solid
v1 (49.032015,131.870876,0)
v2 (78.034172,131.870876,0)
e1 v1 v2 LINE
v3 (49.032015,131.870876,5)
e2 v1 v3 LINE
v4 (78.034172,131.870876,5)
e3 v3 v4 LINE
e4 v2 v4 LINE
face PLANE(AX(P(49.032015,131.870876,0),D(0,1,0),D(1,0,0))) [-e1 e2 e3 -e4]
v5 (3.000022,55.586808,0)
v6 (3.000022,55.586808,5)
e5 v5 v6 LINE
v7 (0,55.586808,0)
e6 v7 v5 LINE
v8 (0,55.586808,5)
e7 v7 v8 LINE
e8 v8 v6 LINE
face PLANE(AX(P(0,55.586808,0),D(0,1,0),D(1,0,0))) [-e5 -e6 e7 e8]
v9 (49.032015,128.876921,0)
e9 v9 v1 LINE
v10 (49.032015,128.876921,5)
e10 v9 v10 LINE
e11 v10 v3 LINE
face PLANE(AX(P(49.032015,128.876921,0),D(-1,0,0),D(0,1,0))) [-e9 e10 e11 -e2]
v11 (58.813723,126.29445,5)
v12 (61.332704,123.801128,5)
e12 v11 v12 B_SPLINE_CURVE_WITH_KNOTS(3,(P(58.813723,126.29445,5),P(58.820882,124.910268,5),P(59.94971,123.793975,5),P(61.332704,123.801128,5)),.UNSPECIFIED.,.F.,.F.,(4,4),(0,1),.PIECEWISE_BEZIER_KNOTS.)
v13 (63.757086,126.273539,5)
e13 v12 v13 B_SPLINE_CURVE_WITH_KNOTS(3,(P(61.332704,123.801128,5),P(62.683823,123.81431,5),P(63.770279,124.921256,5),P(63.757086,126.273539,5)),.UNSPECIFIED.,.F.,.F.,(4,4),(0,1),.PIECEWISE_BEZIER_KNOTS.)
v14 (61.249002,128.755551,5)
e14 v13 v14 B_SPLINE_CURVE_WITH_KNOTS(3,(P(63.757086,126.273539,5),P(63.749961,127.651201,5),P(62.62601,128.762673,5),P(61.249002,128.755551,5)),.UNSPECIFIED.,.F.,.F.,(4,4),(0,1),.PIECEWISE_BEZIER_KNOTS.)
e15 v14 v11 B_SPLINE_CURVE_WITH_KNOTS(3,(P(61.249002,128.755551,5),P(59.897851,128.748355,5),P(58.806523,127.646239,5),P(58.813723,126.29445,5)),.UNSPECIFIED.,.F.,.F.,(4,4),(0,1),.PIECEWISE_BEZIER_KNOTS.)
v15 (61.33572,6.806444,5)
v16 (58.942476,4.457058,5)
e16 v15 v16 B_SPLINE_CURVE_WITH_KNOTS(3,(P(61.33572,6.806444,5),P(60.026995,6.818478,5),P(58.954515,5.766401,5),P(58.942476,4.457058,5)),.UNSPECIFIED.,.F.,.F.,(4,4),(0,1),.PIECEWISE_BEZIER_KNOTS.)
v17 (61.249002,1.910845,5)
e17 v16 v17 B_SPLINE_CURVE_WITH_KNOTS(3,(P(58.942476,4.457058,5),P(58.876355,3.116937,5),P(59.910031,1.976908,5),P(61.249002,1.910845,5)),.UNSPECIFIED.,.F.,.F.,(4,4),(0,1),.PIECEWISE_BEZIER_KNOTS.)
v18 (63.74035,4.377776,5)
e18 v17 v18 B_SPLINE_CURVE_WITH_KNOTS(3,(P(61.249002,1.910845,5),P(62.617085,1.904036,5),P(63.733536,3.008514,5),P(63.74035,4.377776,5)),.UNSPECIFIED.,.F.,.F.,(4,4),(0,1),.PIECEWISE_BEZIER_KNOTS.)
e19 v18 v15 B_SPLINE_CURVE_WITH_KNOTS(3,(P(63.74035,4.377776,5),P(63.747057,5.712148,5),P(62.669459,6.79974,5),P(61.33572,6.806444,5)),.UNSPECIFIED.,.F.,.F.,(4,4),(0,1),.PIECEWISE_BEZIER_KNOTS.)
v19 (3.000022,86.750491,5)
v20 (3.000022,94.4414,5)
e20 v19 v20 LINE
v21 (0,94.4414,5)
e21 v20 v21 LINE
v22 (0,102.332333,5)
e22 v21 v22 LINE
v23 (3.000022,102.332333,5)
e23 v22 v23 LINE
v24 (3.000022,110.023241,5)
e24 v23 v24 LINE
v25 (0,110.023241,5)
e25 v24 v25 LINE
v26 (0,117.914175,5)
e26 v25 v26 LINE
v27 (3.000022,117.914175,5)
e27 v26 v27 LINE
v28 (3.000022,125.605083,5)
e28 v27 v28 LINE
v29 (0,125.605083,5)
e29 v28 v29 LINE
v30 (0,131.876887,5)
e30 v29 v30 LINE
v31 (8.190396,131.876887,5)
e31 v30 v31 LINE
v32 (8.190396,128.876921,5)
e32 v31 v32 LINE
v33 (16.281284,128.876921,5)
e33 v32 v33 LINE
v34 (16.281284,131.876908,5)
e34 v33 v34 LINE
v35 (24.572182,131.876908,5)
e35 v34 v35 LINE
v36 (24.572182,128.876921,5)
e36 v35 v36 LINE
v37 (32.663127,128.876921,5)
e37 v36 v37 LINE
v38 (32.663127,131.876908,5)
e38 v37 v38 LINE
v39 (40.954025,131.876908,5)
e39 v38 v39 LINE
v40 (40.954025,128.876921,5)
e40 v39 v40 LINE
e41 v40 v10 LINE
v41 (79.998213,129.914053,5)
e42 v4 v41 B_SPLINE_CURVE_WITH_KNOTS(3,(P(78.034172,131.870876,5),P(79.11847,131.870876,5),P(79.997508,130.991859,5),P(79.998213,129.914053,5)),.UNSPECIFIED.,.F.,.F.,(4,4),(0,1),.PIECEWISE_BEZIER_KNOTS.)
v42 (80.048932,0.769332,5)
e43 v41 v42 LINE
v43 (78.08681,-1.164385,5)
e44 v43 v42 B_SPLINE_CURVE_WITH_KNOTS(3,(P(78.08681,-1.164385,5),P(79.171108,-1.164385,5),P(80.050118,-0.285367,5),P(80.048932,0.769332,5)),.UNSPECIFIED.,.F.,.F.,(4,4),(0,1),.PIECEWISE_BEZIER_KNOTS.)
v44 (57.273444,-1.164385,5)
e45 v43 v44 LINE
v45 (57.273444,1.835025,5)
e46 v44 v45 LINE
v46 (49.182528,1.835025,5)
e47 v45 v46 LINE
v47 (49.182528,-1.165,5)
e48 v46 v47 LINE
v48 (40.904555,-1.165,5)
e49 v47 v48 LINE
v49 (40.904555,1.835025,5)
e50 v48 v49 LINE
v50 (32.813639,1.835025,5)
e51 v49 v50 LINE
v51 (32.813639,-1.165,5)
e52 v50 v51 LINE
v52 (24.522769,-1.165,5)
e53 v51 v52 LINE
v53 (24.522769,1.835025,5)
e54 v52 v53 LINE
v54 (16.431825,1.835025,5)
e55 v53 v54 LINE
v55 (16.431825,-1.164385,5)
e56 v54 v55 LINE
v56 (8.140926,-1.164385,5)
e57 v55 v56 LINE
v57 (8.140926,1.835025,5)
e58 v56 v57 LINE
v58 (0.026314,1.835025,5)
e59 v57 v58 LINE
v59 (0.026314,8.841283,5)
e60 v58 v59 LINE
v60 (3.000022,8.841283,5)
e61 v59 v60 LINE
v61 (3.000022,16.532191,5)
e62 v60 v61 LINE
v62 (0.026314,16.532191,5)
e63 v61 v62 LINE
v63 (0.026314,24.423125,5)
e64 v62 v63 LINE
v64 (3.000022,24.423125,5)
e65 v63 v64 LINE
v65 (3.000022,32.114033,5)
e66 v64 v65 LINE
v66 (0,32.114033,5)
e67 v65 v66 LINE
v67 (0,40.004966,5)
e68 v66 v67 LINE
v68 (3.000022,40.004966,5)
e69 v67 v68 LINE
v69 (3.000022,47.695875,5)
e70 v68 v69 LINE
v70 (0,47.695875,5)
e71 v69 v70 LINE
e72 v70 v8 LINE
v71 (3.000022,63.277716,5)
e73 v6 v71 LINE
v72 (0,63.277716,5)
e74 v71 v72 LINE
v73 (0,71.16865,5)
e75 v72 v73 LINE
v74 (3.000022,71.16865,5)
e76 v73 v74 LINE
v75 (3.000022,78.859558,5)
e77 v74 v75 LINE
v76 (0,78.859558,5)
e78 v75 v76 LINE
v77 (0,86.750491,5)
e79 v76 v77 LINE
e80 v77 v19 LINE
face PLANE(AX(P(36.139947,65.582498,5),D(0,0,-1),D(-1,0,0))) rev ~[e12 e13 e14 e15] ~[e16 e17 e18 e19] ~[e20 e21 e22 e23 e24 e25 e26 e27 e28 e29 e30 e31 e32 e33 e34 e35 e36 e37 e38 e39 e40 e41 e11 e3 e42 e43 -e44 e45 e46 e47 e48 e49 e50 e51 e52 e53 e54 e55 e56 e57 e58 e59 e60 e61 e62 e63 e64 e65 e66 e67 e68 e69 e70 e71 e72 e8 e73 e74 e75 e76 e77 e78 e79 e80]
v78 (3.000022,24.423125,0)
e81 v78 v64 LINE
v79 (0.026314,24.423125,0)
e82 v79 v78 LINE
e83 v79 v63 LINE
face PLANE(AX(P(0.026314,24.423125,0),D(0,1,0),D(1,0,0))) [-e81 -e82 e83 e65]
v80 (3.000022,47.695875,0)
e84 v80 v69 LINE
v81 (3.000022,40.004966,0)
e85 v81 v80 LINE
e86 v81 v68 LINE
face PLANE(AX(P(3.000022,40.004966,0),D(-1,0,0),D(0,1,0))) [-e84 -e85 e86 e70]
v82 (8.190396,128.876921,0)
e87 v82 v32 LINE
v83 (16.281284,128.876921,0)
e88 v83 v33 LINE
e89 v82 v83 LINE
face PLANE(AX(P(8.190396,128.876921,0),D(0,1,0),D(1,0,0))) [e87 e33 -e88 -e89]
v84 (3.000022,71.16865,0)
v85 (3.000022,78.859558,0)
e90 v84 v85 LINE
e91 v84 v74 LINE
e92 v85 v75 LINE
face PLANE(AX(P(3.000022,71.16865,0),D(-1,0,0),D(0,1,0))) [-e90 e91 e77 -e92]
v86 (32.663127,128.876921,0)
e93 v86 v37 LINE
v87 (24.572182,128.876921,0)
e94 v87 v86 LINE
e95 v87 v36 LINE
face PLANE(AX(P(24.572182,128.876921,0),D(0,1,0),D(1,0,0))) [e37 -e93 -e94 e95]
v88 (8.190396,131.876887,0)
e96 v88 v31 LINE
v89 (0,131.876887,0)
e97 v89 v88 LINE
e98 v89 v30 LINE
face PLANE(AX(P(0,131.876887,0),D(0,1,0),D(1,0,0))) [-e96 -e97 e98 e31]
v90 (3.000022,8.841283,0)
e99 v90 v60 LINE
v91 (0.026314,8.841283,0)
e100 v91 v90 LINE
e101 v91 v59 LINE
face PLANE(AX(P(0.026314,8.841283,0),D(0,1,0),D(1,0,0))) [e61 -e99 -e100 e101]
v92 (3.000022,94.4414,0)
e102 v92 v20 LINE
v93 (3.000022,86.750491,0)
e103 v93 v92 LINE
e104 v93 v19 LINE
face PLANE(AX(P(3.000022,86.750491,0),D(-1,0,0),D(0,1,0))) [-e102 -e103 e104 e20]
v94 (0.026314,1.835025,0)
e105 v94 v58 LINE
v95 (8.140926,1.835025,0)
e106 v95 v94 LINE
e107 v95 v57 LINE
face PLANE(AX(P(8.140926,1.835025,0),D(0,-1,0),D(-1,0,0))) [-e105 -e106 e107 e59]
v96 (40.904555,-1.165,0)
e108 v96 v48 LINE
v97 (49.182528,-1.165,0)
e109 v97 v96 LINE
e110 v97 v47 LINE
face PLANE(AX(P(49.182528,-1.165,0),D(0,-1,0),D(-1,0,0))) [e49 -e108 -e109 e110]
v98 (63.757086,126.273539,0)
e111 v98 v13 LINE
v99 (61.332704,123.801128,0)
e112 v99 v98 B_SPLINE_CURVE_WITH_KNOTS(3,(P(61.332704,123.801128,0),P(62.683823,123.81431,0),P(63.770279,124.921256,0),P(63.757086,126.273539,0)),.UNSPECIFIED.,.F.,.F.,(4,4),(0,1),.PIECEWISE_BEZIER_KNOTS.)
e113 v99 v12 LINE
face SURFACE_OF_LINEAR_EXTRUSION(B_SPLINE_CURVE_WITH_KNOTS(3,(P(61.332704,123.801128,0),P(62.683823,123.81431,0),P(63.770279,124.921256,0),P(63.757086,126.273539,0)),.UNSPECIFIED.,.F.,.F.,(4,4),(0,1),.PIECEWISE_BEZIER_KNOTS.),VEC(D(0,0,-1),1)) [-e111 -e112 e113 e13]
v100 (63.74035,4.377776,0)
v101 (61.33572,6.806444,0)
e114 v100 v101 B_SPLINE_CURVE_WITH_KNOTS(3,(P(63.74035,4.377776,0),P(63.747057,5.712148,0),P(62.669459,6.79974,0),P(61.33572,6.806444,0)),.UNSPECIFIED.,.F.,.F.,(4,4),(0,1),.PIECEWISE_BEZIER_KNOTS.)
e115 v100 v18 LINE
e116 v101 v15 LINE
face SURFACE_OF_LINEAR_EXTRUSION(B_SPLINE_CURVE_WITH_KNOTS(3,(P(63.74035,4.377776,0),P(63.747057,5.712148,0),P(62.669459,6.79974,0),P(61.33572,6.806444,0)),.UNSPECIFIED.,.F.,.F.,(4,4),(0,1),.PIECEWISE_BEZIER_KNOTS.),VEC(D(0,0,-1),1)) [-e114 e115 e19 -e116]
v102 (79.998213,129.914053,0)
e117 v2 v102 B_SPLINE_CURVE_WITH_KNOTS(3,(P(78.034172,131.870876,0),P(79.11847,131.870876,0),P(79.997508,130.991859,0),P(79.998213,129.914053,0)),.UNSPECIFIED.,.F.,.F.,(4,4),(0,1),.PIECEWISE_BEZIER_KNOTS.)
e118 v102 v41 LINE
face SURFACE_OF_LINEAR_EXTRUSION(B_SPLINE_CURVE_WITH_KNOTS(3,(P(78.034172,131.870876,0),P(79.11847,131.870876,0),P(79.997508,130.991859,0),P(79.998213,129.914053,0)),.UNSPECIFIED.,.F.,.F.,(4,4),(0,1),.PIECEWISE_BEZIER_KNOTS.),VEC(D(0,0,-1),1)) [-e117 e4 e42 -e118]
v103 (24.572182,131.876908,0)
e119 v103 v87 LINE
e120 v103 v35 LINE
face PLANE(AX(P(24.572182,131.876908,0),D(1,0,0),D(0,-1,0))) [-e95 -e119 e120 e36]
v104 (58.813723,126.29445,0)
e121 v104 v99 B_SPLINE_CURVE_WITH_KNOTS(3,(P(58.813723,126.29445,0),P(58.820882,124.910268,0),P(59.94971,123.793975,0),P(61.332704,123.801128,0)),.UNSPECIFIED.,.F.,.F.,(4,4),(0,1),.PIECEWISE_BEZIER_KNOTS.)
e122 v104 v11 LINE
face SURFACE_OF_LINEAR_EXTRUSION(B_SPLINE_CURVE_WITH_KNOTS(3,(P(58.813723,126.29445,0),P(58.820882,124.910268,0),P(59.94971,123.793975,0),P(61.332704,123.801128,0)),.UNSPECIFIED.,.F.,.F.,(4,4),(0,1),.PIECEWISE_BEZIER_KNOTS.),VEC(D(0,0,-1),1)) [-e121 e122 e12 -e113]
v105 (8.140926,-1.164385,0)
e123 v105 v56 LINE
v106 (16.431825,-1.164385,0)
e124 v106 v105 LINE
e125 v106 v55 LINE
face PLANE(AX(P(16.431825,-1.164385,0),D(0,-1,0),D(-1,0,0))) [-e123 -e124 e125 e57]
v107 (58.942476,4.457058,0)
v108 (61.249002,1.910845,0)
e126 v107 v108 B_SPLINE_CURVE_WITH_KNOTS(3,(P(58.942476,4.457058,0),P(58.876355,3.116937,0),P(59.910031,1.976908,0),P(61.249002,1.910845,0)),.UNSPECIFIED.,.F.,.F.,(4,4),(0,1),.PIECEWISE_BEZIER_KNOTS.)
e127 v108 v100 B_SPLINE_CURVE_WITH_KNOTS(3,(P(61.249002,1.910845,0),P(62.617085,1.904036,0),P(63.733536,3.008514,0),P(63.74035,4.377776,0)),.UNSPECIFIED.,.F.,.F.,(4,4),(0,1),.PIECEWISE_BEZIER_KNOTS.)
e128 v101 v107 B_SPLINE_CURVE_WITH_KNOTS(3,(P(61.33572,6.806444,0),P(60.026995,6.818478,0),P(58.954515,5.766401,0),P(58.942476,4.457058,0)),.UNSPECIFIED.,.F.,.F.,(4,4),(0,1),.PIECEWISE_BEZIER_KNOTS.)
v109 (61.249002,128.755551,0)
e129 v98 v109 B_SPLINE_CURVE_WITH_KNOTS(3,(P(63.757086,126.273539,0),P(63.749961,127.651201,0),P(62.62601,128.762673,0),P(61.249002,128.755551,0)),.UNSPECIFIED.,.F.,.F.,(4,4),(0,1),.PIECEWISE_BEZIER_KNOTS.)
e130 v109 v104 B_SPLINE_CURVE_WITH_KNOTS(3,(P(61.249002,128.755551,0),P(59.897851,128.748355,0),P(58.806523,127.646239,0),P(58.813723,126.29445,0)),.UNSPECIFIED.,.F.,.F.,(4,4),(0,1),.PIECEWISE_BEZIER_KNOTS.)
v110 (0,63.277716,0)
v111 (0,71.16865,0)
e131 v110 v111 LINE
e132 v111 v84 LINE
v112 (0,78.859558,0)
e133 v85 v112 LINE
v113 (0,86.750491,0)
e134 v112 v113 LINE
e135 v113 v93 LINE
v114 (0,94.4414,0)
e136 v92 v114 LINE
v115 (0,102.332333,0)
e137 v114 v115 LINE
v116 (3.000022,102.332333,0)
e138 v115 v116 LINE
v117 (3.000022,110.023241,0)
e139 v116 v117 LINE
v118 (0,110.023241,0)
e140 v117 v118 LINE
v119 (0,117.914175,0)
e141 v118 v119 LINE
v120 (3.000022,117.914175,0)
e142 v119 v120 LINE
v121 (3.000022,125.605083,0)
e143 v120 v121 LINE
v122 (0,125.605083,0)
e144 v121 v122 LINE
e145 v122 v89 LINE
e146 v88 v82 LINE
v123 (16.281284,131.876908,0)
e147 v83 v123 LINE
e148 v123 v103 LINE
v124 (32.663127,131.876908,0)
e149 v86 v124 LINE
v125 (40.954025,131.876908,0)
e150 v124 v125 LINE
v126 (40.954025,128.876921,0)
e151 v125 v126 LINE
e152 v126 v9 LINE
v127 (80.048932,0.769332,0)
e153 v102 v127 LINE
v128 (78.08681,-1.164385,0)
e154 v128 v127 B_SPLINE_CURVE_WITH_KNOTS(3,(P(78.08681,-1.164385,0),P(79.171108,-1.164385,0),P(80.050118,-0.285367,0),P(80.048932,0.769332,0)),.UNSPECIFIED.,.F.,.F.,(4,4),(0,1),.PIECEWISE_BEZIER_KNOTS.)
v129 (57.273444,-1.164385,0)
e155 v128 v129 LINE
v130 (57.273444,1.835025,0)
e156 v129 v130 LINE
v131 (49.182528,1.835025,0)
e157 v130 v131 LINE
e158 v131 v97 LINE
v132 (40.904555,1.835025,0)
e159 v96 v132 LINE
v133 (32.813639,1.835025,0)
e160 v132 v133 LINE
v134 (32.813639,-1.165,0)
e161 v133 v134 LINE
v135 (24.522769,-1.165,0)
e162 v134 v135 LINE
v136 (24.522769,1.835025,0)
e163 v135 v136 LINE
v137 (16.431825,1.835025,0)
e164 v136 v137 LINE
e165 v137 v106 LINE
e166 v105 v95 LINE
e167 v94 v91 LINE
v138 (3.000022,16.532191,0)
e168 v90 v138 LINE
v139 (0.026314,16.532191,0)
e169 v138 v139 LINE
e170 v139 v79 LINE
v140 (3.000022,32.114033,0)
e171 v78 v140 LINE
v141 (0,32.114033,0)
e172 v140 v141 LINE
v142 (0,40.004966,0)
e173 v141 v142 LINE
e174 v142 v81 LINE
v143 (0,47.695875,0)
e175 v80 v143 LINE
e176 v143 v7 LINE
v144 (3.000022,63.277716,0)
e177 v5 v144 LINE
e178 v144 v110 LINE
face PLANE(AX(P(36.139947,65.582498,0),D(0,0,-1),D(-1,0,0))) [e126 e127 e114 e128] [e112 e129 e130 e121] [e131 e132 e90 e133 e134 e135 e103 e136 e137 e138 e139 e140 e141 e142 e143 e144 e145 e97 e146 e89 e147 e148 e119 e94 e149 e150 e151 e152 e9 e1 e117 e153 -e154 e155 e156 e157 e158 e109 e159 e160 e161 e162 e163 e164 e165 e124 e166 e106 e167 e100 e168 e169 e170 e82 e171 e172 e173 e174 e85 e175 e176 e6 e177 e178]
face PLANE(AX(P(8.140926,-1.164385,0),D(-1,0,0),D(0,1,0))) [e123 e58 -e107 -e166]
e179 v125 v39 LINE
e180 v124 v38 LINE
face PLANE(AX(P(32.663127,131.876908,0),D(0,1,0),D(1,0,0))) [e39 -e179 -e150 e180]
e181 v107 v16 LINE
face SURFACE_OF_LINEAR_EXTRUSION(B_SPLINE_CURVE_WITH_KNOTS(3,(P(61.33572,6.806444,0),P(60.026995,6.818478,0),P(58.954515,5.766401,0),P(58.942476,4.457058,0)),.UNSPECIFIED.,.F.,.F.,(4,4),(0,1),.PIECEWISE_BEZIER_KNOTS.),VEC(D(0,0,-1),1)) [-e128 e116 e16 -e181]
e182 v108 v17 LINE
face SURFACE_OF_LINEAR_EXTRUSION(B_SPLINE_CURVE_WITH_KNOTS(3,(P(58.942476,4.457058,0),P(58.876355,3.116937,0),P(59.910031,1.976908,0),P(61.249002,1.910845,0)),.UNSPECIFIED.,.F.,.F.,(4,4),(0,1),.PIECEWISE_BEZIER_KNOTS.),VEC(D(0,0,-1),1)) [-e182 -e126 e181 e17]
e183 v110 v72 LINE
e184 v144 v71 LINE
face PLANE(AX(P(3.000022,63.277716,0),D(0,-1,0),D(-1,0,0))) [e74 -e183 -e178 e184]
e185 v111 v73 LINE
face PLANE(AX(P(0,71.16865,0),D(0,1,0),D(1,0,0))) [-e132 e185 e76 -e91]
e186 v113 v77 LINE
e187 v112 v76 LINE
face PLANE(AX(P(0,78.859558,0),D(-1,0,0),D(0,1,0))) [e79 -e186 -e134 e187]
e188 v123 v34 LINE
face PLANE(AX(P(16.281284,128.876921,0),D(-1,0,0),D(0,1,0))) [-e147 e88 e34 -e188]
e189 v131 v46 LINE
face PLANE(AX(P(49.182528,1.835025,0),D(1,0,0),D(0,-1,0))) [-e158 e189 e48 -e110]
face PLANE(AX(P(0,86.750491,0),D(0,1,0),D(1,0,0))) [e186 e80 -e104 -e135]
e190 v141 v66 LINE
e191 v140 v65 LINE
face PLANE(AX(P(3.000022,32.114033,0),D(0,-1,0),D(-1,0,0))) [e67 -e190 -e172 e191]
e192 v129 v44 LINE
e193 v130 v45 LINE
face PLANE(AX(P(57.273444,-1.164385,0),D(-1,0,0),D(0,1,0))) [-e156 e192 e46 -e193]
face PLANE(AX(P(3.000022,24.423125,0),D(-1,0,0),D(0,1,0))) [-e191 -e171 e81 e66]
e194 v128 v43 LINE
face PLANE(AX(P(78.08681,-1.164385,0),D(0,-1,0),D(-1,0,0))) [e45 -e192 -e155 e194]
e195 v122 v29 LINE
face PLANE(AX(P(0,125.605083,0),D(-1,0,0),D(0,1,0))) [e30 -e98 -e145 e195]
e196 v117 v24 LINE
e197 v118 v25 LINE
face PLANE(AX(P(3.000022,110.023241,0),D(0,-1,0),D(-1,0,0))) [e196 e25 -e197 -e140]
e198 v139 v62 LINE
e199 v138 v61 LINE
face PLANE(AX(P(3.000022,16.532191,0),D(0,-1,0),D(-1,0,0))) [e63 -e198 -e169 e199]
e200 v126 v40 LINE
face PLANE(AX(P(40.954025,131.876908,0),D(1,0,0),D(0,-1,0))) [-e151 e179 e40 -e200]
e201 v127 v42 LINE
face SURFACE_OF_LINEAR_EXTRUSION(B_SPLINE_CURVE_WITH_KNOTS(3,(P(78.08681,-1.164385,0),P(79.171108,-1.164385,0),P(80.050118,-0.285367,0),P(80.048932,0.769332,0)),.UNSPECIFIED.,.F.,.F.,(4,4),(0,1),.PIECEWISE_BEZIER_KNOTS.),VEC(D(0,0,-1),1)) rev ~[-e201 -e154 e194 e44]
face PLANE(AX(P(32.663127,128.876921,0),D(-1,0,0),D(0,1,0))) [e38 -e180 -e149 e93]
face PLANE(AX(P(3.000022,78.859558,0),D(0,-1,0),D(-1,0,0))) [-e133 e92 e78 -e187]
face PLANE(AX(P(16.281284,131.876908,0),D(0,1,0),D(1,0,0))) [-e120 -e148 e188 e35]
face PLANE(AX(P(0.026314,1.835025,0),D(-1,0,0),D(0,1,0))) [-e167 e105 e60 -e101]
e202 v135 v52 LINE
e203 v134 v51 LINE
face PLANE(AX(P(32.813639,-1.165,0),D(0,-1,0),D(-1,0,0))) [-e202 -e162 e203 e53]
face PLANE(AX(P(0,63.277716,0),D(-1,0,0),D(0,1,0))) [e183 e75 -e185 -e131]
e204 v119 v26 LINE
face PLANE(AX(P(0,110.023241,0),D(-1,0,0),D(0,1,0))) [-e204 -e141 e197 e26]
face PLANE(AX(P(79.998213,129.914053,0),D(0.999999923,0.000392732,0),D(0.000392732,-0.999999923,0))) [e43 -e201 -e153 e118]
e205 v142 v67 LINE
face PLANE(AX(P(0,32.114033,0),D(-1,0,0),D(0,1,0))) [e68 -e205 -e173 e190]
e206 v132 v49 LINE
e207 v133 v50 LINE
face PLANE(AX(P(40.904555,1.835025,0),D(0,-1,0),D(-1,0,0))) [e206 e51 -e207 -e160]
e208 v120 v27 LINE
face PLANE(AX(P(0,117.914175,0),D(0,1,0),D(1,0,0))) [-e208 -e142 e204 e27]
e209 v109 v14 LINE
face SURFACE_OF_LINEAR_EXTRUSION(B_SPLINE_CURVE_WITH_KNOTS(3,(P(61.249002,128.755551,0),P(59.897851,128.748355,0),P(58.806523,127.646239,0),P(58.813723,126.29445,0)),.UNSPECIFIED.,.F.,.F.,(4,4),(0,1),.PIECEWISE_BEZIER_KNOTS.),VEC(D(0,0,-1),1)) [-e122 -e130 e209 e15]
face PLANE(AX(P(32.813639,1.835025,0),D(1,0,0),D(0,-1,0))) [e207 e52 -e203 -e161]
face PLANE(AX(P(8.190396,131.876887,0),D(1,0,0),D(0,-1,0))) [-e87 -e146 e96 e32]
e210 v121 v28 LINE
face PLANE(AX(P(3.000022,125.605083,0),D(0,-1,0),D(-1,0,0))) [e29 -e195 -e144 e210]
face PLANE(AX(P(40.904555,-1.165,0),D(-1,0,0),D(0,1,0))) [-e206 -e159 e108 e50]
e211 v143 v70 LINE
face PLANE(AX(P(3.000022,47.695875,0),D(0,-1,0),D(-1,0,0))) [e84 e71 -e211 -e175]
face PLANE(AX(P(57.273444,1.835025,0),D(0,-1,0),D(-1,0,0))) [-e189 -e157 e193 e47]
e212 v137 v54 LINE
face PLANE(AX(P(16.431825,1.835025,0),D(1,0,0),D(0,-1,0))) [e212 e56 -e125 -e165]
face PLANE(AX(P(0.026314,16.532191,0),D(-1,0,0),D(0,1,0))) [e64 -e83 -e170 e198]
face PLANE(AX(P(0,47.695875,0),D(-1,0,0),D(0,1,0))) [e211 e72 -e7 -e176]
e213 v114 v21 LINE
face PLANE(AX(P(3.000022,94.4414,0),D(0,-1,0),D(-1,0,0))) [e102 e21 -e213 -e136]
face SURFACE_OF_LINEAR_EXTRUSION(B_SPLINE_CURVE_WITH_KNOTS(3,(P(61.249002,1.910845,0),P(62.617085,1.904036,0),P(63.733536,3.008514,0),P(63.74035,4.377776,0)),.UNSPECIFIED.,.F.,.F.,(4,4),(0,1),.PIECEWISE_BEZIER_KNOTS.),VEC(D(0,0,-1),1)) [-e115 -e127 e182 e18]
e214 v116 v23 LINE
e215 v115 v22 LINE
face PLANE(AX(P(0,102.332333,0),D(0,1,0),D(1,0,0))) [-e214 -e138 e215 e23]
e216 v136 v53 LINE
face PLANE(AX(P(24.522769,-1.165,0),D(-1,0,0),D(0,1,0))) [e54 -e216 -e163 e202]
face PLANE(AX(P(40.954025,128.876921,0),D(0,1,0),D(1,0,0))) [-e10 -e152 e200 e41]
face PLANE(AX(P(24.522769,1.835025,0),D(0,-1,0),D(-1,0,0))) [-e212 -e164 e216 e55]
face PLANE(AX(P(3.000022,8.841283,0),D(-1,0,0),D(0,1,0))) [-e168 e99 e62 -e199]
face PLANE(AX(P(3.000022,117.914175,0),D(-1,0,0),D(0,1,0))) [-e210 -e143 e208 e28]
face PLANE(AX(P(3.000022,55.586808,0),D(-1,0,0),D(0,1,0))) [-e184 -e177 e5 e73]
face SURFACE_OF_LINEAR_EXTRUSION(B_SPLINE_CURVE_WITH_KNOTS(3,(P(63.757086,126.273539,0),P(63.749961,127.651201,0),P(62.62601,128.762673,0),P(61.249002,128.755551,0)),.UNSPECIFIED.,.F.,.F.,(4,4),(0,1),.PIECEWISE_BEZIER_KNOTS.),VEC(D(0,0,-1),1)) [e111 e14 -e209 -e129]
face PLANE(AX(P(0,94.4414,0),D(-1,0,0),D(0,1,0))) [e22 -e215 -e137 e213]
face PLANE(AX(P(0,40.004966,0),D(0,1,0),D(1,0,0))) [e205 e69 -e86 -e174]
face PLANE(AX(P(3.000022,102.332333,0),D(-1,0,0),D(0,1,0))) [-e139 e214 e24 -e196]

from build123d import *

# Parameters (mm, degrees)
BOSS_EXTRUDE1_DEPTH = 5


with BuildPart() as part:
    # Sketch2 → Boss-Extrude1 (new body)
    with BuildSketch(Plane.XY):
        with BuildLine():
            Line((3.000022, 125.605083), (0, 125.605083))
            Line((0, 125.605083), (0, 131.876887))
            Line((0, 131.876887), (8.190395777, 131.876887))
            Line((8.190395777, 131.876887), (8.190395777, 128.876921))
            Line((8.190395777, 128.876921), (16.281283777, 128.876921))
            Line((16.281283777, 128.876921), (16.281283777, 131.876908))
            Line((16.281283777, 131.876908), (24.572181777, 131.876908))
            Line((24.572181777, 131.876908), (24.572181777, 128.876921))
            Line((24.572181777, 128.876921), (32.663126777, 128.876921))
            Line((32.663126777, 128.876921), (32.663126777, 131.876908))
            Line((32.663126777, 131.876908), (40.954024777, 131.876908))
            Line((40.954024777, 131.876908), (40.954024777, 128.876921))
            Line((40.954024777, 128.876921), (49.032014777, 128.876921))
            Line((49.032014777, 128.876921), (49.032014777, 131.870876))
            Line((49.032014777, 131.870876), (78.034171777, 131.870876))
            add(Edge.make_bspline(
                [(78.034171777, 131.870876), (79.118469777, 131.870876), (79.997507777, 130.991859), (79.998212777, 129.914053)],
                knots=[0, 0, 0, 0, 1, 1, 1, 1], degree=3))
            Line((79.998212777, 129.914053), (80.048932, 0.769332))
            add(Edge.make_bspline(
                [(78.08681, -1.164385), (79.171108, -1.164385), (80.050118, -0.285367), (80.048932, 0.769332)],
                knots=[0, 0, 0, 0, 1, 1, 1, 1], degree=3))
            Line((78.08681, -1.164385), (57.273444, -1.164385))
            Line((57.273444, -1.164385), (57.273444, 1.835025))
            Line((57.273444, 1.835025), (49.182528, 1.835025))
            Line((49.182528, 1.835025), (49.182528, -1.165))
            Line((49.182528, -1.165), (40.904555, -1.165))
            Line((40.904555, -1.165), (40.904555, 1.835025))
            Line((40.904555, 1.835025), (32.813639, 1.835025))
            Line((32.813639, 1.835025), (32.813639, -1.165))
            Line((32.813639, -1.165), (24.522769, -1.165))
            Line((24.522769, -1.165), (24.522769, 1.835025))
            Line((24.522769, 1.835025), (16.431825, 1.835025))
            Line((16.431825, 1.835025), (16.431825, -1.164385))
            Line((16.431825, -1.164385), (8.140926, -1.164385))
            Line((8.140926, -1.164385), (8.140926, 1.835025))
            Line((8.140926, 1.835025), (0.026314406, 1.835025))
            Line((0.026314406, 1.835025), (0.026314406, 8.841283))
            Line((0.026314406, 8.841283), (3.000022, 8.841283))
            Line((3.000022, 8.841283), (3.000022, 16.532191))
            Line((3.000022, 16.532191), (0.026314406, 16.532191))
            Line((0.026314406, 16.532191), (0.026314406, 24.423125))
            Line((0.026314406, 24.423125), (3.000022, 24.423125))
            Line((3.000022, 24.423125), (3.000022, 32.114033))
            Line((3.000022, 32.114033), (0, 32.114033))
            Line((0, 32.114033), (0, 40.004966))
            Line((0, 40.004966), (3.000022, 40.004966))
            Line((3.000022, 40.004966), (3.000022, 47.695875))
            Line((3.000022, 47.695875), (0, 47.695875))
            Line((0, 47.695875), (0, 55.586808))
            Line((0, 55.586808), (3.000022, 55.586808))
            Line((3.000022, 55.586808), (3.000022, 63.277716))
            Line((3.000022, 63.277716), (0, 63.277716))
            Line((0, 63.277716), (0, 71.16865))
            Line((0, 71.16865), (3.000022, 71.16865))
            Line((3.000022, 71.16865), (3.000022, 78.859558))
            Line((3.000022, 78.859558), (0, 78.859558))
            Line((0, 78.859558), (0, 86.750491))
            Line((0, 86.750491), (3.000022, 86.750491))
            Line((3.000022, 86.750491), (3.000022, 94.4414))
            Line((3.000022, 94.4414), (0, 94.4414))
            Line((0, 94.4414), (0, 102.332333))
            Line((0, 102.332333), (3.000022, 102.332333))
            Line((3.000022, 102.332333), (3.000022, 110.023241))
            Line((3.000022, 110.023241), (0, 110.023241))
            Line((0, 110.023241), (0, 117.914175))
            Line((0, 117.914175), (3.000022, 117.914175))
            Line((3.000022, 117.914175), (3.000022, 125.605083))
        make_face()
        with BuildLine():
            add(Edge.make_bspline(
                [(58.942475583, 4.45705786), (58.876355433, 3.116936717), (59.910031097, 1.976908278), (61.249001885, 1.910844885)],
                knots=[0, 0, 0, 0, 1, 1, 1, 1], degree=3))
            add(Edge.make_bspline(
                [(61.249001885, 1.910844885), (62.61708533, 1.904036469), (63.733535737, 3.008514398), (63.740350017, 4.377776229)],
                knots=[0, 0, 0, 0, 1, 1, 1, 1], degree=3))
            add(Edge.make_bspline(
                [(63.740350017, 4.377776229), (63.747057434, 5.712148161), (62.669459301, 6.79974011), (61.335720144, 6.806444347)],
                knots=[0, 0, 0, 0, 1, 1, 1, 1], degree=3))
            add(Edge.make_bspline(
                [(61.335720144, 6.806444347), (60.026995423, 6.818478401), (58.95451532, 5.766400599), (58.942475583, 4.45705786)],
                knots=[0, 0, 0, 0, 1, 1, 1, 1], degree=3))
        make_face(mode=Mode.SUBTRACT)
        with BuildLine():
            add(Edge.make_bspline(
                [(58.81372287, 126.294450328), (58.82088208, 124.91026836), (59.949710178, 123.793975081), (61.332703971, 123.801128146)],
                knots=[0, 0, 0, 0, 1, 1, 1, 1], degree=3))
            add(Edge.make_bspline(
                [(61.332703971, 123.801128146), (62.683823094, 123.814309965), (63.770278691, 124.921256436), (63.757085518, 126.273539334)],
                knots=[0, 0, 0, 0, 1, 1, 1, 1], degree=3))
            add(Edge.make_bspline(
                [(63.757085518, 126.273539334), (63.749960977, 127.651200571), (62.626009819, 128.762672593), (61.249001885, 128.755551431)],
                knots=[0, 0, 0, 0, 1, 1, 1, 1], degree=3))
            add(Edge.make_bspline(
                [(61.249001885, 128.755551431), (59.897851275, 128.748355096), (58.806523136, 127.646238991), (58.81372287, 126.294450328)],
                knots=[0, 0, 0, 0, 1, 1, 1, 1], degree=3))
        make_face(mode=Mode.SUBTRACT)
    extrude(amount=BOSS_EXTRUDE1_DEPTH)


solid = part.part
